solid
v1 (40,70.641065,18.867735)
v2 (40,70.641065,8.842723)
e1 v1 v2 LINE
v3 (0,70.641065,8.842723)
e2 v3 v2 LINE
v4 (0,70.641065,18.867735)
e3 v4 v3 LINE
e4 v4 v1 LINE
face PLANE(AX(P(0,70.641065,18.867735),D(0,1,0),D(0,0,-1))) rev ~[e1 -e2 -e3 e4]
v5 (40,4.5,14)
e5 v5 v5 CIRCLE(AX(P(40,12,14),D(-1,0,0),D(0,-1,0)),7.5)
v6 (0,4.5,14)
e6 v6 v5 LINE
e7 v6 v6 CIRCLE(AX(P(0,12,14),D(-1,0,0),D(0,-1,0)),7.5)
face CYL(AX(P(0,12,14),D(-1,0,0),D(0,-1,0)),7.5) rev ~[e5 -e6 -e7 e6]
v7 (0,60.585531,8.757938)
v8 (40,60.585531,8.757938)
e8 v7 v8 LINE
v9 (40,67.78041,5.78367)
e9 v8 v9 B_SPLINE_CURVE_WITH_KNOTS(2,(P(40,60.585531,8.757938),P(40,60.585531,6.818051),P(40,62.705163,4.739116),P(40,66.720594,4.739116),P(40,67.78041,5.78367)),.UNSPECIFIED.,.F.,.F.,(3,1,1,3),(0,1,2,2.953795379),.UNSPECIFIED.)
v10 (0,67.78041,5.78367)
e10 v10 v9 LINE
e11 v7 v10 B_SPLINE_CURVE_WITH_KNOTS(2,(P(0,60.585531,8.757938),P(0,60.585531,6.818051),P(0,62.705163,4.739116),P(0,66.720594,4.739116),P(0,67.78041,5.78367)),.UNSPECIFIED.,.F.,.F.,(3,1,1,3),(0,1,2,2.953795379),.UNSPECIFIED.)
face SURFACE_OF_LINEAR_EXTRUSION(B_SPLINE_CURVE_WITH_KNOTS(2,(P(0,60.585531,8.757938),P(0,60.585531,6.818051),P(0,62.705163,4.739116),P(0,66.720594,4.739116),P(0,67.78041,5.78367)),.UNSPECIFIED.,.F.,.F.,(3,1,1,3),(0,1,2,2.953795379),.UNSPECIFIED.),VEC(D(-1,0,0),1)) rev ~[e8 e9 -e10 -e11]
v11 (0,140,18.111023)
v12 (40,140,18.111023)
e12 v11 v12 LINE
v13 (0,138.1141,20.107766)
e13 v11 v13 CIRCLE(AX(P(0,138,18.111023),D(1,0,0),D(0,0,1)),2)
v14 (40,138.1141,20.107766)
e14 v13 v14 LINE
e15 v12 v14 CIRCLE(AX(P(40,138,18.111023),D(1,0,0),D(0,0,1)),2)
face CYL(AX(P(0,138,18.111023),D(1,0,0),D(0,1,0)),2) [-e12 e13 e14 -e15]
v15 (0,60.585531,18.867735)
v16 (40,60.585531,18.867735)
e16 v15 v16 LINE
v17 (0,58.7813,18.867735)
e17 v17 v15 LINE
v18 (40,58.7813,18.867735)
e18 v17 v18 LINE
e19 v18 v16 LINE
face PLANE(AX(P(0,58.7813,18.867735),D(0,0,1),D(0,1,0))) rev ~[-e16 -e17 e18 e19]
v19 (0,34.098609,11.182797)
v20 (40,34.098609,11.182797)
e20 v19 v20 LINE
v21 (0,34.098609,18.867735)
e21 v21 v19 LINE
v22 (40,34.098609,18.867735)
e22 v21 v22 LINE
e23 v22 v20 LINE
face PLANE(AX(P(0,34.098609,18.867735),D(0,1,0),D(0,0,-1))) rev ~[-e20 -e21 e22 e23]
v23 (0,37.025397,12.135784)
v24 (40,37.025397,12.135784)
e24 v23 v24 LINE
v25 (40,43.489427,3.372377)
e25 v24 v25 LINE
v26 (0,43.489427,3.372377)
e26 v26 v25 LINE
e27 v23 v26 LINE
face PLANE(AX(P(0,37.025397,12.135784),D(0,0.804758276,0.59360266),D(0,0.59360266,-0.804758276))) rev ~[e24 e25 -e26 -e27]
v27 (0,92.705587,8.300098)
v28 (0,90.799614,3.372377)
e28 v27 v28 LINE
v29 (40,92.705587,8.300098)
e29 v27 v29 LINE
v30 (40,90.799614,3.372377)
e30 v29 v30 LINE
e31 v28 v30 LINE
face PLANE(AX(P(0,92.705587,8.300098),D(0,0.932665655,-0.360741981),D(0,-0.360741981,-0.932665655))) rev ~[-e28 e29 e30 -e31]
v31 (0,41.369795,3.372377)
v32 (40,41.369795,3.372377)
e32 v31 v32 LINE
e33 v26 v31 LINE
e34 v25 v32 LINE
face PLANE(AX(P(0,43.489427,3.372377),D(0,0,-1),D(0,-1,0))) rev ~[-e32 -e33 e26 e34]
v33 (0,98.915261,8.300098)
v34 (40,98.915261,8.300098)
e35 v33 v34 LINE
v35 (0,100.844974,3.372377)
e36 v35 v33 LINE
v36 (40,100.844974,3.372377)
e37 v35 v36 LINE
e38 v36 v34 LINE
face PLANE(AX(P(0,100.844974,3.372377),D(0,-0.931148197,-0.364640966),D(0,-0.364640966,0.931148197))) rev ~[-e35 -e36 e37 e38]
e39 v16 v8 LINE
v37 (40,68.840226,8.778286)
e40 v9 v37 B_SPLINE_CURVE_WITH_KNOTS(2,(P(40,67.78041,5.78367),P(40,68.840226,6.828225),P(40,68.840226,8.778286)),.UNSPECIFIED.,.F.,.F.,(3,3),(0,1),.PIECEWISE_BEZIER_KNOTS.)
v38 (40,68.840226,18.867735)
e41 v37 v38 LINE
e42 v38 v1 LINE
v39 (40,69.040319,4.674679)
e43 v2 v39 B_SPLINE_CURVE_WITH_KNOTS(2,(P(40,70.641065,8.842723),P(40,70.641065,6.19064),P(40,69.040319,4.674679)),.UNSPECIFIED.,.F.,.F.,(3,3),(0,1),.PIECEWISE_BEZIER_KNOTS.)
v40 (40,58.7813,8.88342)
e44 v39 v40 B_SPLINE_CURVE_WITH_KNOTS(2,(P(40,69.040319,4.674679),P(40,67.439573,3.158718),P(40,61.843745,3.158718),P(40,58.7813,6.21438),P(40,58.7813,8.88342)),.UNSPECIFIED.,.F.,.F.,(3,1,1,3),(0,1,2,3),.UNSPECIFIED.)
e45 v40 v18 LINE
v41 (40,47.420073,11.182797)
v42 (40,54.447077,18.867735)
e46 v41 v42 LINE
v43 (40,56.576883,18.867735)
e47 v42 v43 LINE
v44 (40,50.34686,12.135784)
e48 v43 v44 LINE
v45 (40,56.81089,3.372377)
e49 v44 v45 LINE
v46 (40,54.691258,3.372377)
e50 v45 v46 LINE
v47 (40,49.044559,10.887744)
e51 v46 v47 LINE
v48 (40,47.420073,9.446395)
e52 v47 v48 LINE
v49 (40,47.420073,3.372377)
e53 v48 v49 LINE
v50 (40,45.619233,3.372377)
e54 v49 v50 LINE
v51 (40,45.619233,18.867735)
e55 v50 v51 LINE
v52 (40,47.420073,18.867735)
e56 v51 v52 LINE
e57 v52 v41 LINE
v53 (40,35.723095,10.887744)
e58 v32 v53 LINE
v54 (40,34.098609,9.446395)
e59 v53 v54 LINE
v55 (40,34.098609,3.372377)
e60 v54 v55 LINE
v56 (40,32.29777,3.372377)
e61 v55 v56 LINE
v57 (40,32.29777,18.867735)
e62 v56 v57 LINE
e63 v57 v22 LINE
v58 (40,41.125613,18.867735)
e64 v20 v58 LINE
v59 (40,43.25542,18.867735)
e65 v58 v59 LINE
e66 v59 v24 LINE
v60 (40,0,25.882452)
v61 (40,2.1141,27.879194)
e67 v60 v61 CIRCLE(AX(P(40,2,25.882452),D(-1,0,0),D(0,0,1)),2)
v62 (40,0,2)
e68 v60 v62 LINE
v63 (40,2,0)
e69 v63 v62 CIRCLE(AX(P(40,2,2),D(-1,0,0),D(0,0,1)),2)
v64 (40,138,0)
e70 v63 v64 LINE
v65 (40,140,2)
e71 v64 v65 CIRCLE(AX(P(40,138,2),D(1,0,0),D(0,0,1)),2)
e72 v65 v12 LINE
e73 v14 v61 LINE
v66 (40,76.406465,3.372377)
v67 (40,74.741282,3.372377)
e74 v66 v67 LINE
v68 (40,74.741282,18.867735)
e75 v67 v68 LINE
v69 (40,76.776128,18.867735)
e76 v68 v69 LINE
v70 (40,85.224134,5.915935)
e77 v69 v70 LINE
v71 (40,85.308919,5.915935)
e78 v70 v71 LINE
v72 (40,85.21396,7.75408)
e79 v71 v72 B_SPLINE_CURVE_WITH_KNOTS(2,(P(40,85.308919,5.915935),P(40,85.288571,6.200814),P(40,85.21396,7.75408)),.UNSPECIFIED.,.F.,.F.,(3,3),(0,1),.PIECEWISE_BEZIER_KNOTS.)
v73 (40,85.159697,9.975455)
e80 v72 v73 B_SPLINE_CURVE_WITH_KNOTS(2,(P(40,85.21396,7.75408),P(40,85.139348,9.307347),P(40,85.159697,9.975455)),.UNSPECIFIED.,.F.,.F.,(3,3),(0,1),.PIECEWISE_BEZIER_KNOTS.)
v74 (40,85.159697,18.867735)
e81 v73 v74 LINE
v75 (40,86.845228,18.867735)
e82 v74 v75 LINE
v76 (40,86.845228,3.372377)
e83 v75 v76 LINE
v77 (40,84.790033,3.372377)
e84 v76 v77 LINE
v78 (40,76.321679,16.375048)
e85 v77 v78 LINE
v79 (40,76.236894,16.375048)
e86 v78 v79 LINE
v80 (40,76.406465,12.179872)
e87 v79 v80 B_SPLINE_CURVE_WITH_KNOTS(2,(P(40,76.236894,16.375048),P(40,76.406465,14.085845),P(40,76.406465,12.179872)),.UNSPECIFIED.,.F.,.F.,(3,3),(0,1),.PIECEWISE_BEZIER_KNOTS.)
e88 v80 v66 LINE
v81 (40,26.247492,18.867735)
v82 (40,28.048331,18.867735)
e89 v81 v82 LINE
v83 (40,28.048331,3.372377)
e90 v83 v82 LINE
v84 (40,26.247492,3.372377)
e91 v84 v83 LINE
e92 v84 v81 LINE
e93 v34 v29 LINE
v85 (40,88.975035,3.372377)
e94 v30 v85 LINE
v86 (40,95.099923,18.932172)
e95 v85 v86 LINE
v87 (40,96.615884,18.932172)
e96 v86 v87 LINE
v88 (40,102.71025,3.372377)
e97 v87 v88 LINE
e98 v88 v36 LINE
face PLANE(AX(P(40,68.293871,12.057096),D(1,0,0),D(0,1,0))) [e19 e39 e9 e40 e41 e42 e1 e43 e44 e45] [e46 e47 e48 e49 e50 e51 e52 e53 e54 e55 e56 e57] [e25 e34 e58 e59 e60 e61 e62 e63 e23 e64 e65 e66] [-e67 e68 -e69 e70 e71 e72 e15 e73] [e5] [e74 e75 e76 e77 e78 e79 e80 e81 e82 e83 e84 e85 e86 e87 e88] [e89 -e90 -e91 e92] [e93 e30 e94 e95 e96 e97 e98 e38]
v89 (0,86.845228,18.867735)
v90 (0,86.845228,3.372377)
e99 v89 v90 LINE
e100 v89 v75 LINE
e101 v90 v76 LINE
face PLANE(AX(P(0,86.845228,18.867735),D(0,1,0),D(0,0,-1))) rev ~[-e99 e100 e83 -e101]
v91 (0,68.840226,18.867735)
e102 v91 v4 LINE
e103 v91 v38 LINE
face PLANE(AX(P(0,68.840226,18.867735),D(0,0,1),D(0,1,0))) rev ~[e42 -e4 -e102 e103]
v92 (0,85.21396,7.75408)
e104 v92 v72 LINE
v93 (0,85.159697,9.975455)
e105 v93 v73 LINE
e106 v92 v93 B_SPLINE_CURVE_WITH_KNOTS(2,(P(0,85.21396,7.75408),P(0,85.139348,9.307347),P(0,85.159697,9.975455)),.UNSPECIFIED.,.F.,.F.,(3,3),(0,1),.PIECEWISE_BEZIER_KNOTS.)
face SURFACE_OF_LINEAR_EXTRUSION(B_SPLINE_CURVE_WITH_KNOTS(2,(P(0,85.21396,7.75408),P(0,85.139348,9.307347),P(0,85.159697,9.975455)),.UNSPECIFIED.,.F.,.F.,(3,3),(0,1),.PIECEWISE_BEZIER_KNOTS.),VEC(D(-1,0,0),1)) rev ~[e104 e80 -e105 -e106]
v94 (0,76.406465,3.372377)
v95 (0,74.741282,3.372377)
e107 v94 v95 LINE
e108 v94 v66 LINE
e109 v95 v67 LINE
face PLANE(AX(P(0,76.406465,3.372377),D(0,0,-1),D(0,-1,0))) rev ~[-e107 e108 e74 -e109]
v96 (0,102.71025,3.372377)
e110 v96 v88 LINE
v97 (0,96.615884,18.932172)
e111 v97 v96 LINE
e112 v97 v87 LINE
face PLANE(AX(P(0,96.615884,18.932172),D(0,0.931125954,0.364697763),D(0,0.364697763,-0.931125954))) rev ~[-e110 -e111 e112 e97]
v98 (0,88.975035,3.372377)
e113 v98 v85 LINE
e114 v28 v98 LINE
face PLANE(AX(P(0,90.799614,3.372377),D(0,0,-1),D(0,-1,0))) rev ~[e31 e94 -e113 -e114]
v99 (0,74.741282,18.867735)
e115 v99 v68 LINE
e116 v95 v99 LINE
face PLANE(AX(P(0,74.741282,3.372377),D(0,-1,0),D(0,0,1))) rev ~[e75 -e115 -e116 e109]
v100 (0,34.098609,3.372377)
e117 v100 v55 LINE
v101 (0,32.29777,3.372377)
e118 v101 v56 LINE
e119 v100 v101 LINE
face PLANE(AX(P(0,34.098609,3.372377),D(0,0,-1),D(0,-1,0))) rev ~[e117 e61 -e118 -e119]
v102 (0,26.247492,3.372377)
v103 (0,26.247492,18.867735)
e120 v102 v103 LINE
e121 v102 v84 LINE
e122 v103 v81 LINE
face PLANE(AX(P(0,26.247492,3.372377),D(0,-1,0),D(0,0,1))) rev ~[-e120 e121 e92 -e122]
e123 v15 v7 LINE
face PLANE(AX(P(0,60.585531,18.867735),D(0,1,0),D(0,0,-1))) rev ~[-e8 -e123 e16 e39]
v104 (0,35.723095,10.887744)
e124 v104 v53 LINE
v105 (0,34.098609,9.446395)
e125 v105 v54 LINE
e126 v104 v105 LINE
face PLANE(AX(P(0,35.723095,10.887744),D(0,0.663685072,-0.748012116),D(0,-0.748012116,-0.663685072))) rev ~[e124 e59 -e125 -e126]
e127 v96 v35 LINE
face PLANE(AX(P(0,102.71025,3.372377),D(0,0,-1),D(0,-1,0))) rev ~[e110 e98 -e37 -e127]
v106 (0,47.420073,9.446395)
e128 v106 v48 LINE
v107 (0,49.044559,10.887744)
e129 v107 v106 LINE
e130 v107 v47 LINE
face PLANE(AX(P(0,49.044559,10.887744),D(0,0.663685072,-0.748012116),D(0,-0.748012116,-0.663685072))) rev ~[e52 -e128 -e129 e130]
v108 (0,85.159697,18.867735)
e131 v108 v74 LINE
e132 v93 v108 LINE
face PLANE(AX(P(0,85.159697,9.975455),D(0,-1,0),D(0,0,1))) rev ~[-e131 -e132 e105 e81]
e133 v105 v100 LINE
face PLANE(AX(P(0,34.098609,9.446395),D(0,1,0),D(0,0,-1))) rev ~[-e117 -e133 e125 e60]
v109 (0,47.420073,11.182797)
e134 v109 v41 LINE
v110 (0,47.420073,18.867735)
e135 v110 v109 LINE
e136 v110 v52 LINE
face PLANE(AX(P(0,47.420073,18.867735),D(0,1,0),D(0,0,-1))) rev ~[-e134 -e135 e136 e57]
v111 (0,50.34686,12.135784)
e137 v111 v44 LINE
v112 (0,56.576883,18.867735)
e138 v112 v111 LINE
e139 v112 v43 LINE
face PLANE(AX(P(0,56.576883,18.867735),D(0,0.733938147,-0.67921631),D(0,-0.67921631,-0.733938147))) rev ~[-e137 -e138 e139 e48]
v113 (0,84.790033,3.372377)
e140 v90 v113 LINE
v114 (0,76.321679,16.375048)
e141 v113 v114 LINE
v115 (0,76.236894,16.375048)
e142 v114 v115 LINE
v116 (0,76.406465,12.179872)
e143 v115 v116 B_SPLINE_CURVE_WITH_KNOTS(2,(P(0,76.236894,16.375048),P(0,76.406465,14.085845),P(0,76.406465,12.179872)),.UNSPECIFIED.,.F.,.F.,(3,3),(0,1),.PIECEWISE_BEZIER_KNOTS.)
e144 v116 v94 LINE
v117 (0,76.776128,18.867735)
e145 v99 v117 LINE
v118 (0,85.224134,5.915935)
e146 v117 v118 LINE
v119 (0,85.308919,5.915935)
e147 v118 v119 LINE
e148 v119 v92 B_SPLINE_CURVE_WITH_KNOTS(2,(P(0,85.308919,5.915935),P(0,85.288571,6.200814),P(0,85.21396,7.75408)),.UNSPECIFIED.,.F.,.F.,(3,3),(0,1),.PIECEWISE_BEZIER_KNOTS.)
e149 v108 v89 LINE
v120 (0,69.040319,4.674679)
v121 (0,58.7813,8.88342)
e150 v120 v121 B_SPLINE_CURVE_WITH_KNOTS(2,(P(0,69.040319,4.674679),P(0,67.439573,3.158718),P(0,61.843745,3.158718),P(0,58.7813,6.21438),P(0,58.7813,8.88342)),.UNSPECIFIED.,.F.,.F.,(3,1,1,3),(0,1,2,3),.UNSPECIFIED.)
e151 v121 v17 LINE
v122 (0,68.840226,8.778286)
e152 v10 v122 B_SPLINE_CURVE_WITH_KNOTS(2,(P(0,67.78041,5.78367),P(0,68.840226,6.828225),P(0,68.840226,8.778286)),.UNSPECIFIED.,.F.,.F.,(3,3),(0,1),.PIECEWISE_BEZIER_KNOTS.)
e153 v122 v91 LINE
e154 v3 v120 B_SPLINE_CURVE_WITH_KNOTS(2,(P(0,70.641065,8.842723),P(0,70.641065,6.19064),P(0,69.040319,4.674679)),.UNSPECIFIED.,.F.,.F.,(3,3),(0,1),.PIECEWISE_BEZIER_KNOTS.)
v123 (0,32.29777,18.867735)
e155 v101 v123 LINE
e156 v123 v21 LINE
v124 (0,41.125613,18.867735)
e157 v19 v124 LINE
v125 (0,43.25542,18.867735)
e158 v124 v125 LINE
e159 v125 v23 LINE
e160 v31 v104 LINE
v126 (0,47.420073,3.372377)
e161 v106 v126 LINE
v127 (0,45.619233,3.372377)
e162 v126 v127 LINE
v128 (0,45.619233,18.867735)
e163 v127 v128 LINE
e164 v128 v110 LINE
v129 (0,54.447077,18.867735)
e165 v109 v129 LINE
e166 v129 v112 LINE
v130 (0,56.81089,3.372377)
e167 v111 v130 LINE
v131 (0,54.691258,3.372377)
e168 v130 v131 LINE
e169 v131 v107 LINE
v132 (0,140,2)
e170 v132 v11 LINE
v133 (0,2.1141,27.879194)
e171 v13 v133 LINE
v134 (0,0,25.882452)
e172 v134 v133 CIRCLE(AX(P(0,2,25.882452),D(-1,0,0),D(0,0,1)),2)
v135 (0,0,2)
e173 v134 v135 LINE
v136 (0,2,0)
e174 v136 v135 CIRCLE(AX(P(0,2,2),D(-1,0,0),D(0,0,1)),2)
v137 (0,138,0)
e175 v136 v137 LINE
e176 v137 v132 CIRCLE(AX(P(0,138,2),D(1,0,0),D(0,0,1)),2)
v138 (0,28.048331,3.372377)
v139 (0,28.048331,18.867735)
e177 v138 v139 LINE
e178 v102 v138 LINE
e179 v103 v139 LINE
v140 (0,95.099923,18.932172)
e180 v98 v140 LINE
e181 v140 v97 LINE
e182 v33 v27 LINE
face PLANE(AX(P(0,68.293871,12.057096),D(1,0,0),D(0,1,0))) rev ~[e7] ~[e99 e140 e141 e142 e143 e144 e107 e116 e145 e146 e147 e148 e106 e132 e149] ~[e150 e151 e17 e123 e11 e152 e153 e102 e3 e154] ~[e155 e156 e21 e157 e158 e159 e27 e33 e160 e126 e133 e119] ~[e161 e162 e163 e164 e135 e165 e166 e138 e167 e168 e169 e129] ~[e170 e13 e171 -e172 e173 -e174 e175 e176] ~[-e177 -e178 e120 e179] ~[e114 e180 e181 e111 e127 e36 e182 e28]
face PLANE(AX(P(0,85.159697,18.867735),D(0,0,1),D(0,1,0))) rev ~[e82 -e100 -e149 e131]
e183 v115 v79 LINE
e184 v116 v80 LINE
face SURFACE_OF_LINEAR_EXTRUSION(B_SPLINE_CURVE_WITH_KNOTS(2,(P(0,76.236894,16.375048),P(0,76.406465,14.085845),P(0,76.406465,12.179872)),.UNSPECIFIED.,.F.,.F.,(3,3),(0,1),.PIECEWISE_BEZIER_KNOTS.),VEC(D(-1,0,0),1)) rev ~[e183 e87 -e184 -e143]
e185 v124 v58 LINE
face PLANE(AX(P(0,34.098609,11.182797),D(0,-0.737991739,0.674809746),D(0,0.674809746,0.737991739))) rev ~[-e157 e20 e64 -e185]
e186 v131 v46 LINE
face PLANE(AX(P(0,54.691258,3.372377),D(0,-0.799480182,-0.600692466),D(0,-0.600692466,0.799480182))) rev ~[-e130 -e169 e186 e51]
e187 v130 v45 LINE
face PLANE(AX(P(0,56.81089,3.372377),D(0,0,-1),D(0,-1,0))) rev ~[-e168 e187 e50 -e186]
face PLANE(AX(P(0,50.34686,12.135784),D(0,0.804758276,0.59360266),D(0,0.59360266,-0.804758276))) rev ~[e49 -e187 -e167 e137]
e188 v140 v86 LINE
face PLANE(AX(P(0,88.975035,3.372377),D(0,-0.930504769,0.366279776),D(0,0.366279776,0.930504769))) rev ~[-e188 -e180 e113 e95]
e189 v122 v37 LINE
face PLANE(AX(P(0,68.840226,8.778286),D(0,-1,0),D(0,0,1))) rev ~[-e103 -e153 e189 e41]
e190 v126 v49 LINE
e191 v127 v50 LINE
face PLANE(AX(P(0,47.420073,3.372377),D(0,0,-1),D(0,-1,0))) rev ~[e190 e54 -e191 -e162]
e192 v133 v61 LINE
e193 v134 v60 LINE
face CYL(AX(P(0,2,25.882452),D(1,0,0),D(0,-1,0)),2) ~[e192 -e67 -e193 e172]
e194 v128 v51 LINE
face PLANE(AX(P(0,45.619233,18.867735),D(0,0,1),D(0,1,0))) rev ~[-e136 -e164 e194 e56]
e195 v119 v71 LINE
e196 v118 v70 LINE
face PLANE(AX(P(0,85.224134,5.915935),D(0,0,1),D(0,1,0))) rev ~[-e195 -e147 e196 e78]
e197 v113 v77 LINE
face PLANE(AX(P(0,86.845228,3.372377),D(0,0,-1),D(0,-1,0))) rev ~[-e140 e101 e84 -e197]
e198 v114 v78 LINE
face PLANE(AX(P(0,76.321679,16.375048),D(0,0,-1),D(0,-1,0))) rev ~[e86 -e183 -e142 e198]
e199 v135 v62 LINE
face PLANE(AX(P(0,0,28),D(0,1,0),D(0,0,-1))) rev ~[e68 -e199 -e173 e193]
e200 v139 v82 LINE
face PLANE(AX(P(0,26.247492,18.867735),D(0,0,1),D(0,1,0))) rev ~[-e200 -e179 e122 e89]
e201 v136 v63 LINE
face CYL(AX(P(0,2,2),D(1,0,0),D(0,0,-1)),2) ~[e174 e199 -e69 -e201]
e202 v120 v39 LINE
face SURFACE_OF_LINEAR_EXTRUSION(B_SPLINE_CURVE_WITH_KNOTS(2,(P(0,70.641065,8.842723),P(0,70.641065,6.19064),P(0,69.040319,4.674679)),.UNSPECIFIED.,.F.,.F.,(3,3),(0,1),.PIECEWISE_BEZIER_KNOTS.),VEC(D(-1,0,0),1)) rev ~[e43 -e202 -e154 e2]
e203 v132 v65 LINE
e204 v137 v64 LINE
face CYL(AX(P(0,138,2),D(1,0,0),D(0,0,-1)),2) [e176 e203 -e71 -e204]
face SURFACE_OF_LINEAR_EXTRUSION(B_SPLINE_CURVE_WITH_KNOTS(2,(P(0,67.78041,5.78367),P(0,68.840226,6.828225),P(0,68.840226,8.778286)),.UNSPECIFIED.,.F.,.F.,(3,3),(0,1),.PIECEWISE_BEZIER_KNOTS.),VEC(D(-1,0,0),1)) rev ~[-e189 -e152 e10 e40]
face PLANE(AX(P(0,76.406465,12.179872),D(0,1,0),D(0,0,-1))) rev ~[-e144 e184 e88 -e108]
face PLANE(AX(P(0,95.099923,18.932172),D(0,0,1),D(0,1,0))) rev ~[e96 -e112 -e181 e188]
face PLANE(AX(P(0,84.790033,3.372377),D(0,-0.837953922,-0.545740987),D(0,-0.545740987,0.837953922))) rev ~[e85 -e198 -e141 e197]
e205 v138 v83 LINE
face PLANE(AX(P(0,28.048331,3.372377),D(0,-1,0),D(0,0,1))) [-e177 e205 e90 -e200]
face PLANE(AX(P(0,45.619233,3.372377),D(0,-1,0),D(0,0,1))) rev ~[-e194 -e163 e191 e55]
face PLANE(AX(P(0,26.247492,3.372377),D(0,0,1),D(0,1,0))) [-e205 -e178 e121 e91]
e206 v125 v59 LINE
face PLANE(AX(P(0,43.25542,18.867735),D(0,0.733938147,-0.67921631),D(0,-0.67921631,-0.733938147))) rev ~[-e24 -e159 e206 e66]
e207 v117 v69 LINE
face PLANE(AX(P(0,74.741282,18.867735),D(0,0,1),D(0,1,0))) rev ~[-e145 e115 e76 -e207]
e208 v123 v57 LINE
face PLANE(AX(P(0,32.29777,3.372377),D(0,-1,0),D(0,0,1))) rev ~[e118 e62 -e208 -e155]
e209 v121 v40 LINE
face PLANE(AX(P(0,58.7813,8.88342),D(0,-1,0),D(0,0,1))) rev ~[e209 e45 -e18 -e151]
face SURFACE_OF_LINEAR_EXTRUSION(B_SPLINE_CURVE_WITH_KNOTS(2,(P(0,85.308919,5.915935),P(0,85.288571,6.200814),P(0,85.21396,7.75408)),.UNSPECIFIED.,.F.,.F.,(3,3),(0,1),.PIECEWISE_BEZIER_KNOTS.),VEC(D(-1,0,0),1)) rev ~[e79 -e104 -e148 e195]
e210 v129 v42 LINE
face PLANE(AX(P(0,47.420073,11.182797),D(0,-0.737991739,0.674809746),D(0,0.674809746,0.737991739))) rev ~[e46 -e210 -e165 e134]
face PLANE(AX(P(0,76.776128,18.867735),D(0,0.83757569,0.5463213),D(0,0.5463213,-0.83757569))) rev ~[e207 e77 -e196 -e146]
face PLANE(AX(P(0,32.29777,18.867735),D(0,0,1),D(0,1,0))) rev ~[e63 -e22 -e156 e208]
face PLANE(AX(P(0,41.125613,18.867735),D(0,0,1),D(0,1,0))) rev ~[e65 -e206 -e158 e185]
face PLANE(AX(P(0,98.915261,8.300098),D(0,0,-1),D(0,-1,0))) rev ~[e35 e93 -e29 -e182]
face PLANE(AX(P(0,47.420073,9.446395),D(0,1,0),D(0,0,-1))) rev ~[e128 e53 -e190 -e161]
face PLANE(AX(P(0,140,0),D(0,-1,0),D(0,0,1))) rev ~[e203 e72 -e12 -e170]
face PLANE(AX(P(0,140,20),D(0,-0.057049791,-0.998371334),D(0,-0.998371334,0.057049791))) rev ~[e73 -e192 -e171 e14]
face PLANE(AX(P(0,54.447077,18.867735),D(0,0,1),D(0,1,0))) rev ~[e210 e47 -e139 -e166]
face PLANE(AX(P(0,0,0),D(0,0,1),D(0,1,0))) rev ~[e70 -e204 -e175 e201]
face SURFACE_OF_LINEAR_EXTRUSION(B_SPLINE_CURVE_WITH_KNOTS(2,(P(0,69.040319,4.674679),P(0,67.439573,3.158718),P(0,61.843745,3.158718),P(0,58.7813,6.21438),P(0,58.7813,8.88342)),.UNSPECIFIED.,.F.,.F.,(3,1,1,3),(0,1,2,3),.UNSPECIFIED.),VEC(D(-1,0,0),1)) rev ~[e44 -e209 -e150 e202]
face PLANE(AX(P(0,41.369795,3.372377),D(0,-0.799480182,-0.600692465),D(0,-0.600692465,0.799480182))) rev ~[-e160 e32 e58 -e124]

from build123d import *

# Parameters (mm, degrees)
F0_W     = 1.8008393743
F0_H     = 15.4953580059
F1_DEPTH = 40
F2_R     = 2


with BuildPart() as f1:
    # F0 (on Right) → F1 (new body)
    with BuildSketch(Plane.YZ):
        Polygon((0, 14), (0, 0), (140, 0), (140, 20), (0, 28), align=None)
        with Locations((27.1479118072, 11.1200559583)):
            Rectangle(F0_W, F0_H, mode=Mode.SUBTRACT)
        Polygon((37.0253970758, 12.135783628), (43.4894269202, 3.3723769554), (41.3697948883, 3.3723769554), (35.7230951554, 10.8877442876), (34.0986091661, 9.4463945059), (34.0986091661, 3.3723769554), (32.2977697919, 3.3723769554), (32.2977697919, 18.8677349612), (34.0986091661, 18.8677349612), (34.0986091661, 11.1827970664), (41.1256132782, 18.8677349612), (43.2554195439, 18.8677349612), align=None, mode=Mode.SUBTRACT)
        Polygon((50.3468604697, 12.135783628), (56.8108903141, 3.3723769554), (54.6912582823, 3.3723769554), (49.0445585493, 10.8877442876), (47.4200725601, 9.4463945059), (47.4200725601, 3.3723769554), (45.6192331858, 3.3723769554), (45.6192331858, 18.8677349612), (47.4200725601, 18.8677349612), (47.4200725601, 11.1827970664), (54.4470766722, 18.8677349612), (56.5768829378, 18.8677349612), align=None, mode=Mode.SUBTRACT)
        with BuildLine():
            Line((68.8402260215, 18.8677349612), (70.6410653957, 18.8677349612))
            Line((70.6410653957, 18.8677349612), (70.6410653957, 8.8427233032))
            add(Edge.make_bspline(
                [(70.6410653957, 8.8427233032), (70.6410653957, 6.1906397049), (69.0403192853, 4.6746788757)],
                knots=[0, 0, 0, 1, 1, 1], degree=2))
            add(Edge.make_bspline(
                [(69.0403192853, 4.6746788757), (67.4395731748, 3.1587180465), (64.6416588927, 3.1587180465)],
                knots=[0, 0, 0, 1, 1, 1], degree=2))
            add(Edge.make_bspline(
                [(64.6416588927, 3.1587180465), (61.8437446106, 3.1587180465), (60.3125224308, 4.6865488151)],
                knots=[0, 0, 0, 1, 1, 1], degree=2))
            add(Edge.make_bspline(
                [(60.3125224308, 4.6865488151), (58.781300251, 6.2143795837), (58.781300251, 8.8834202382)],
                knots=[0, 0, 0, 1, 1, 1], degree=2))
            Line((58.781300251, 8.8834202382), (58.781300251, 18.8677349612))
            Line((58.781300251, 18.8677349612), (60.5855310365, 18.8677349612))
            Line((60.5855310365, 18.8677349612), (60.5855310365, 8.757938022))
            add(Edge.make_bspline(
                [(60.5855310365, 8.757938022), (60.5855310365, 6.8180507864), (61.6453470525, 5.7785832379)],
                knots=[0, 0, 0, 1, 1, 1], degree=2))
            add(Edge.make_bspline(
                [(61.6453470525, 5.7785832379), (62.7051630684, 4.7391156895), (64.7603582865, 4.7391156895)],
                knots=[0, 0, 0, 1, 1, 1], degree=2))
            add(Edge.make_bspline(
                [(64.7603582865, 4.7391156895), (66.7205939896, 4.7391156895), (67.7804100055, 5.7836703548)],
                knots=[0, 0, 0, 1, 1, 1], degree=2))
            add(Edge.make_bspline(
                [(67.7804100055, 5.7836703548), (68.8402260215, 6.8282250201), (68.8402260215, 8.7782864895)],
                knots=[0, 0, 0, 1, 1, 1], degree=2))
            Line((68.8402260215, 8.7782864895), (68.8402260215, 18.8677349612))
        make_face(mode=Mode.SUBTRACT)
        with BuildLine():
            Line((86.8452283531, 18.8677349612), (86.8452283531, 3.3723769554))
            Line((86.8452283531, 3.3723769554), (84.7900331349, 3.3723769554))
            Line((84.7900331349, 3.3723769554), (76.3216792412, 16.3750476917))
            Line((76.3216792412, 16.3750476917), (76.2368939599, 16.3750476917))
            add(Edge.make_bspline(
                [(76.2368939599, 16.3750476917), (76.4064645225, 14.0858450973), (76.4064645225, 12.1798719742)],
                knots=[0, 0, 0, 1, 1, 1], degree=2))
            Line((76.4064645225, 12.1798719742), (76.4064645225, 3.3723769554))
            Line((76.4064645225, 3.3723769554), (74.7412815982, 3.3723769554))
            Line((74.7412815982, 3.3723769554), (74.7412815982, 18.8677349612))
            Line((74.7412815982, 18.8677349612), (76.7761283488, 18.8677349612))
            Line((76.7761283488, 18.8677349612), (85.2241337751, 5.9159353936))
            Line((85.2241337751, 5.9159353936), (85.3089190564, 5.9159353936))
            add(Edge.make_bspline(
                [(85.3089190564, 5.9159353936), (85.2885705888, 6.2008139387), (85.2139595413, 7.7540802917)],
                knots=[0, 0, 0, 1, 1, 1], degree=2))
            add(Edge.make_bspline(
                [(85.2139595413, 7.7540802917), (85.1393484938, 9.3073466446), (85.1596969613, 9.9754546611)],
                knots=[0, 0, 0, 1, 1, 1], degree=2))
            Line((85.1596969613, 9.9754546611), (85.1596969613, 18.8677349612))
            Line((85.1596969613, 18.8677349612), (86.8452283531, 18.8677349612))
        make_face(mode=Mode.SUBTRACT)
        Polygon((102.7102501853, 3.3723769554), (100.8449739972, 3.3723769554), (98.9152609954, 8.3000975031), (92.7055869948, 8.3000975031), (90.7996138717, 3.3723769554), (88.9750346187, 3.3723769554), (95.099923338, 18.932171775), (96.6158841672, 18.932171775), align=None, mode=Mode.SUBTRACT)
        with BuildLine():
            ThreePointArc((19.5, 14), (12, 6.5), (4.5, 14))
            ThreePointArc((4.5, 14), (12, 21.5), (19.5, 14))
        make_face(mode=Mode.SUBTRACT)
    extrude(amount=F1_DEPTH)

    # F2
    f2_edges = [f1.edges().sort_by_distance(p)[0] for p in [
        (20, 140, 20),
        (20, 0, 28),
        (20, 0, 0),
        (20, 140, 0),
    ]]
    fillet(f2_edges, radius=F2_R)


solid = f1.part
